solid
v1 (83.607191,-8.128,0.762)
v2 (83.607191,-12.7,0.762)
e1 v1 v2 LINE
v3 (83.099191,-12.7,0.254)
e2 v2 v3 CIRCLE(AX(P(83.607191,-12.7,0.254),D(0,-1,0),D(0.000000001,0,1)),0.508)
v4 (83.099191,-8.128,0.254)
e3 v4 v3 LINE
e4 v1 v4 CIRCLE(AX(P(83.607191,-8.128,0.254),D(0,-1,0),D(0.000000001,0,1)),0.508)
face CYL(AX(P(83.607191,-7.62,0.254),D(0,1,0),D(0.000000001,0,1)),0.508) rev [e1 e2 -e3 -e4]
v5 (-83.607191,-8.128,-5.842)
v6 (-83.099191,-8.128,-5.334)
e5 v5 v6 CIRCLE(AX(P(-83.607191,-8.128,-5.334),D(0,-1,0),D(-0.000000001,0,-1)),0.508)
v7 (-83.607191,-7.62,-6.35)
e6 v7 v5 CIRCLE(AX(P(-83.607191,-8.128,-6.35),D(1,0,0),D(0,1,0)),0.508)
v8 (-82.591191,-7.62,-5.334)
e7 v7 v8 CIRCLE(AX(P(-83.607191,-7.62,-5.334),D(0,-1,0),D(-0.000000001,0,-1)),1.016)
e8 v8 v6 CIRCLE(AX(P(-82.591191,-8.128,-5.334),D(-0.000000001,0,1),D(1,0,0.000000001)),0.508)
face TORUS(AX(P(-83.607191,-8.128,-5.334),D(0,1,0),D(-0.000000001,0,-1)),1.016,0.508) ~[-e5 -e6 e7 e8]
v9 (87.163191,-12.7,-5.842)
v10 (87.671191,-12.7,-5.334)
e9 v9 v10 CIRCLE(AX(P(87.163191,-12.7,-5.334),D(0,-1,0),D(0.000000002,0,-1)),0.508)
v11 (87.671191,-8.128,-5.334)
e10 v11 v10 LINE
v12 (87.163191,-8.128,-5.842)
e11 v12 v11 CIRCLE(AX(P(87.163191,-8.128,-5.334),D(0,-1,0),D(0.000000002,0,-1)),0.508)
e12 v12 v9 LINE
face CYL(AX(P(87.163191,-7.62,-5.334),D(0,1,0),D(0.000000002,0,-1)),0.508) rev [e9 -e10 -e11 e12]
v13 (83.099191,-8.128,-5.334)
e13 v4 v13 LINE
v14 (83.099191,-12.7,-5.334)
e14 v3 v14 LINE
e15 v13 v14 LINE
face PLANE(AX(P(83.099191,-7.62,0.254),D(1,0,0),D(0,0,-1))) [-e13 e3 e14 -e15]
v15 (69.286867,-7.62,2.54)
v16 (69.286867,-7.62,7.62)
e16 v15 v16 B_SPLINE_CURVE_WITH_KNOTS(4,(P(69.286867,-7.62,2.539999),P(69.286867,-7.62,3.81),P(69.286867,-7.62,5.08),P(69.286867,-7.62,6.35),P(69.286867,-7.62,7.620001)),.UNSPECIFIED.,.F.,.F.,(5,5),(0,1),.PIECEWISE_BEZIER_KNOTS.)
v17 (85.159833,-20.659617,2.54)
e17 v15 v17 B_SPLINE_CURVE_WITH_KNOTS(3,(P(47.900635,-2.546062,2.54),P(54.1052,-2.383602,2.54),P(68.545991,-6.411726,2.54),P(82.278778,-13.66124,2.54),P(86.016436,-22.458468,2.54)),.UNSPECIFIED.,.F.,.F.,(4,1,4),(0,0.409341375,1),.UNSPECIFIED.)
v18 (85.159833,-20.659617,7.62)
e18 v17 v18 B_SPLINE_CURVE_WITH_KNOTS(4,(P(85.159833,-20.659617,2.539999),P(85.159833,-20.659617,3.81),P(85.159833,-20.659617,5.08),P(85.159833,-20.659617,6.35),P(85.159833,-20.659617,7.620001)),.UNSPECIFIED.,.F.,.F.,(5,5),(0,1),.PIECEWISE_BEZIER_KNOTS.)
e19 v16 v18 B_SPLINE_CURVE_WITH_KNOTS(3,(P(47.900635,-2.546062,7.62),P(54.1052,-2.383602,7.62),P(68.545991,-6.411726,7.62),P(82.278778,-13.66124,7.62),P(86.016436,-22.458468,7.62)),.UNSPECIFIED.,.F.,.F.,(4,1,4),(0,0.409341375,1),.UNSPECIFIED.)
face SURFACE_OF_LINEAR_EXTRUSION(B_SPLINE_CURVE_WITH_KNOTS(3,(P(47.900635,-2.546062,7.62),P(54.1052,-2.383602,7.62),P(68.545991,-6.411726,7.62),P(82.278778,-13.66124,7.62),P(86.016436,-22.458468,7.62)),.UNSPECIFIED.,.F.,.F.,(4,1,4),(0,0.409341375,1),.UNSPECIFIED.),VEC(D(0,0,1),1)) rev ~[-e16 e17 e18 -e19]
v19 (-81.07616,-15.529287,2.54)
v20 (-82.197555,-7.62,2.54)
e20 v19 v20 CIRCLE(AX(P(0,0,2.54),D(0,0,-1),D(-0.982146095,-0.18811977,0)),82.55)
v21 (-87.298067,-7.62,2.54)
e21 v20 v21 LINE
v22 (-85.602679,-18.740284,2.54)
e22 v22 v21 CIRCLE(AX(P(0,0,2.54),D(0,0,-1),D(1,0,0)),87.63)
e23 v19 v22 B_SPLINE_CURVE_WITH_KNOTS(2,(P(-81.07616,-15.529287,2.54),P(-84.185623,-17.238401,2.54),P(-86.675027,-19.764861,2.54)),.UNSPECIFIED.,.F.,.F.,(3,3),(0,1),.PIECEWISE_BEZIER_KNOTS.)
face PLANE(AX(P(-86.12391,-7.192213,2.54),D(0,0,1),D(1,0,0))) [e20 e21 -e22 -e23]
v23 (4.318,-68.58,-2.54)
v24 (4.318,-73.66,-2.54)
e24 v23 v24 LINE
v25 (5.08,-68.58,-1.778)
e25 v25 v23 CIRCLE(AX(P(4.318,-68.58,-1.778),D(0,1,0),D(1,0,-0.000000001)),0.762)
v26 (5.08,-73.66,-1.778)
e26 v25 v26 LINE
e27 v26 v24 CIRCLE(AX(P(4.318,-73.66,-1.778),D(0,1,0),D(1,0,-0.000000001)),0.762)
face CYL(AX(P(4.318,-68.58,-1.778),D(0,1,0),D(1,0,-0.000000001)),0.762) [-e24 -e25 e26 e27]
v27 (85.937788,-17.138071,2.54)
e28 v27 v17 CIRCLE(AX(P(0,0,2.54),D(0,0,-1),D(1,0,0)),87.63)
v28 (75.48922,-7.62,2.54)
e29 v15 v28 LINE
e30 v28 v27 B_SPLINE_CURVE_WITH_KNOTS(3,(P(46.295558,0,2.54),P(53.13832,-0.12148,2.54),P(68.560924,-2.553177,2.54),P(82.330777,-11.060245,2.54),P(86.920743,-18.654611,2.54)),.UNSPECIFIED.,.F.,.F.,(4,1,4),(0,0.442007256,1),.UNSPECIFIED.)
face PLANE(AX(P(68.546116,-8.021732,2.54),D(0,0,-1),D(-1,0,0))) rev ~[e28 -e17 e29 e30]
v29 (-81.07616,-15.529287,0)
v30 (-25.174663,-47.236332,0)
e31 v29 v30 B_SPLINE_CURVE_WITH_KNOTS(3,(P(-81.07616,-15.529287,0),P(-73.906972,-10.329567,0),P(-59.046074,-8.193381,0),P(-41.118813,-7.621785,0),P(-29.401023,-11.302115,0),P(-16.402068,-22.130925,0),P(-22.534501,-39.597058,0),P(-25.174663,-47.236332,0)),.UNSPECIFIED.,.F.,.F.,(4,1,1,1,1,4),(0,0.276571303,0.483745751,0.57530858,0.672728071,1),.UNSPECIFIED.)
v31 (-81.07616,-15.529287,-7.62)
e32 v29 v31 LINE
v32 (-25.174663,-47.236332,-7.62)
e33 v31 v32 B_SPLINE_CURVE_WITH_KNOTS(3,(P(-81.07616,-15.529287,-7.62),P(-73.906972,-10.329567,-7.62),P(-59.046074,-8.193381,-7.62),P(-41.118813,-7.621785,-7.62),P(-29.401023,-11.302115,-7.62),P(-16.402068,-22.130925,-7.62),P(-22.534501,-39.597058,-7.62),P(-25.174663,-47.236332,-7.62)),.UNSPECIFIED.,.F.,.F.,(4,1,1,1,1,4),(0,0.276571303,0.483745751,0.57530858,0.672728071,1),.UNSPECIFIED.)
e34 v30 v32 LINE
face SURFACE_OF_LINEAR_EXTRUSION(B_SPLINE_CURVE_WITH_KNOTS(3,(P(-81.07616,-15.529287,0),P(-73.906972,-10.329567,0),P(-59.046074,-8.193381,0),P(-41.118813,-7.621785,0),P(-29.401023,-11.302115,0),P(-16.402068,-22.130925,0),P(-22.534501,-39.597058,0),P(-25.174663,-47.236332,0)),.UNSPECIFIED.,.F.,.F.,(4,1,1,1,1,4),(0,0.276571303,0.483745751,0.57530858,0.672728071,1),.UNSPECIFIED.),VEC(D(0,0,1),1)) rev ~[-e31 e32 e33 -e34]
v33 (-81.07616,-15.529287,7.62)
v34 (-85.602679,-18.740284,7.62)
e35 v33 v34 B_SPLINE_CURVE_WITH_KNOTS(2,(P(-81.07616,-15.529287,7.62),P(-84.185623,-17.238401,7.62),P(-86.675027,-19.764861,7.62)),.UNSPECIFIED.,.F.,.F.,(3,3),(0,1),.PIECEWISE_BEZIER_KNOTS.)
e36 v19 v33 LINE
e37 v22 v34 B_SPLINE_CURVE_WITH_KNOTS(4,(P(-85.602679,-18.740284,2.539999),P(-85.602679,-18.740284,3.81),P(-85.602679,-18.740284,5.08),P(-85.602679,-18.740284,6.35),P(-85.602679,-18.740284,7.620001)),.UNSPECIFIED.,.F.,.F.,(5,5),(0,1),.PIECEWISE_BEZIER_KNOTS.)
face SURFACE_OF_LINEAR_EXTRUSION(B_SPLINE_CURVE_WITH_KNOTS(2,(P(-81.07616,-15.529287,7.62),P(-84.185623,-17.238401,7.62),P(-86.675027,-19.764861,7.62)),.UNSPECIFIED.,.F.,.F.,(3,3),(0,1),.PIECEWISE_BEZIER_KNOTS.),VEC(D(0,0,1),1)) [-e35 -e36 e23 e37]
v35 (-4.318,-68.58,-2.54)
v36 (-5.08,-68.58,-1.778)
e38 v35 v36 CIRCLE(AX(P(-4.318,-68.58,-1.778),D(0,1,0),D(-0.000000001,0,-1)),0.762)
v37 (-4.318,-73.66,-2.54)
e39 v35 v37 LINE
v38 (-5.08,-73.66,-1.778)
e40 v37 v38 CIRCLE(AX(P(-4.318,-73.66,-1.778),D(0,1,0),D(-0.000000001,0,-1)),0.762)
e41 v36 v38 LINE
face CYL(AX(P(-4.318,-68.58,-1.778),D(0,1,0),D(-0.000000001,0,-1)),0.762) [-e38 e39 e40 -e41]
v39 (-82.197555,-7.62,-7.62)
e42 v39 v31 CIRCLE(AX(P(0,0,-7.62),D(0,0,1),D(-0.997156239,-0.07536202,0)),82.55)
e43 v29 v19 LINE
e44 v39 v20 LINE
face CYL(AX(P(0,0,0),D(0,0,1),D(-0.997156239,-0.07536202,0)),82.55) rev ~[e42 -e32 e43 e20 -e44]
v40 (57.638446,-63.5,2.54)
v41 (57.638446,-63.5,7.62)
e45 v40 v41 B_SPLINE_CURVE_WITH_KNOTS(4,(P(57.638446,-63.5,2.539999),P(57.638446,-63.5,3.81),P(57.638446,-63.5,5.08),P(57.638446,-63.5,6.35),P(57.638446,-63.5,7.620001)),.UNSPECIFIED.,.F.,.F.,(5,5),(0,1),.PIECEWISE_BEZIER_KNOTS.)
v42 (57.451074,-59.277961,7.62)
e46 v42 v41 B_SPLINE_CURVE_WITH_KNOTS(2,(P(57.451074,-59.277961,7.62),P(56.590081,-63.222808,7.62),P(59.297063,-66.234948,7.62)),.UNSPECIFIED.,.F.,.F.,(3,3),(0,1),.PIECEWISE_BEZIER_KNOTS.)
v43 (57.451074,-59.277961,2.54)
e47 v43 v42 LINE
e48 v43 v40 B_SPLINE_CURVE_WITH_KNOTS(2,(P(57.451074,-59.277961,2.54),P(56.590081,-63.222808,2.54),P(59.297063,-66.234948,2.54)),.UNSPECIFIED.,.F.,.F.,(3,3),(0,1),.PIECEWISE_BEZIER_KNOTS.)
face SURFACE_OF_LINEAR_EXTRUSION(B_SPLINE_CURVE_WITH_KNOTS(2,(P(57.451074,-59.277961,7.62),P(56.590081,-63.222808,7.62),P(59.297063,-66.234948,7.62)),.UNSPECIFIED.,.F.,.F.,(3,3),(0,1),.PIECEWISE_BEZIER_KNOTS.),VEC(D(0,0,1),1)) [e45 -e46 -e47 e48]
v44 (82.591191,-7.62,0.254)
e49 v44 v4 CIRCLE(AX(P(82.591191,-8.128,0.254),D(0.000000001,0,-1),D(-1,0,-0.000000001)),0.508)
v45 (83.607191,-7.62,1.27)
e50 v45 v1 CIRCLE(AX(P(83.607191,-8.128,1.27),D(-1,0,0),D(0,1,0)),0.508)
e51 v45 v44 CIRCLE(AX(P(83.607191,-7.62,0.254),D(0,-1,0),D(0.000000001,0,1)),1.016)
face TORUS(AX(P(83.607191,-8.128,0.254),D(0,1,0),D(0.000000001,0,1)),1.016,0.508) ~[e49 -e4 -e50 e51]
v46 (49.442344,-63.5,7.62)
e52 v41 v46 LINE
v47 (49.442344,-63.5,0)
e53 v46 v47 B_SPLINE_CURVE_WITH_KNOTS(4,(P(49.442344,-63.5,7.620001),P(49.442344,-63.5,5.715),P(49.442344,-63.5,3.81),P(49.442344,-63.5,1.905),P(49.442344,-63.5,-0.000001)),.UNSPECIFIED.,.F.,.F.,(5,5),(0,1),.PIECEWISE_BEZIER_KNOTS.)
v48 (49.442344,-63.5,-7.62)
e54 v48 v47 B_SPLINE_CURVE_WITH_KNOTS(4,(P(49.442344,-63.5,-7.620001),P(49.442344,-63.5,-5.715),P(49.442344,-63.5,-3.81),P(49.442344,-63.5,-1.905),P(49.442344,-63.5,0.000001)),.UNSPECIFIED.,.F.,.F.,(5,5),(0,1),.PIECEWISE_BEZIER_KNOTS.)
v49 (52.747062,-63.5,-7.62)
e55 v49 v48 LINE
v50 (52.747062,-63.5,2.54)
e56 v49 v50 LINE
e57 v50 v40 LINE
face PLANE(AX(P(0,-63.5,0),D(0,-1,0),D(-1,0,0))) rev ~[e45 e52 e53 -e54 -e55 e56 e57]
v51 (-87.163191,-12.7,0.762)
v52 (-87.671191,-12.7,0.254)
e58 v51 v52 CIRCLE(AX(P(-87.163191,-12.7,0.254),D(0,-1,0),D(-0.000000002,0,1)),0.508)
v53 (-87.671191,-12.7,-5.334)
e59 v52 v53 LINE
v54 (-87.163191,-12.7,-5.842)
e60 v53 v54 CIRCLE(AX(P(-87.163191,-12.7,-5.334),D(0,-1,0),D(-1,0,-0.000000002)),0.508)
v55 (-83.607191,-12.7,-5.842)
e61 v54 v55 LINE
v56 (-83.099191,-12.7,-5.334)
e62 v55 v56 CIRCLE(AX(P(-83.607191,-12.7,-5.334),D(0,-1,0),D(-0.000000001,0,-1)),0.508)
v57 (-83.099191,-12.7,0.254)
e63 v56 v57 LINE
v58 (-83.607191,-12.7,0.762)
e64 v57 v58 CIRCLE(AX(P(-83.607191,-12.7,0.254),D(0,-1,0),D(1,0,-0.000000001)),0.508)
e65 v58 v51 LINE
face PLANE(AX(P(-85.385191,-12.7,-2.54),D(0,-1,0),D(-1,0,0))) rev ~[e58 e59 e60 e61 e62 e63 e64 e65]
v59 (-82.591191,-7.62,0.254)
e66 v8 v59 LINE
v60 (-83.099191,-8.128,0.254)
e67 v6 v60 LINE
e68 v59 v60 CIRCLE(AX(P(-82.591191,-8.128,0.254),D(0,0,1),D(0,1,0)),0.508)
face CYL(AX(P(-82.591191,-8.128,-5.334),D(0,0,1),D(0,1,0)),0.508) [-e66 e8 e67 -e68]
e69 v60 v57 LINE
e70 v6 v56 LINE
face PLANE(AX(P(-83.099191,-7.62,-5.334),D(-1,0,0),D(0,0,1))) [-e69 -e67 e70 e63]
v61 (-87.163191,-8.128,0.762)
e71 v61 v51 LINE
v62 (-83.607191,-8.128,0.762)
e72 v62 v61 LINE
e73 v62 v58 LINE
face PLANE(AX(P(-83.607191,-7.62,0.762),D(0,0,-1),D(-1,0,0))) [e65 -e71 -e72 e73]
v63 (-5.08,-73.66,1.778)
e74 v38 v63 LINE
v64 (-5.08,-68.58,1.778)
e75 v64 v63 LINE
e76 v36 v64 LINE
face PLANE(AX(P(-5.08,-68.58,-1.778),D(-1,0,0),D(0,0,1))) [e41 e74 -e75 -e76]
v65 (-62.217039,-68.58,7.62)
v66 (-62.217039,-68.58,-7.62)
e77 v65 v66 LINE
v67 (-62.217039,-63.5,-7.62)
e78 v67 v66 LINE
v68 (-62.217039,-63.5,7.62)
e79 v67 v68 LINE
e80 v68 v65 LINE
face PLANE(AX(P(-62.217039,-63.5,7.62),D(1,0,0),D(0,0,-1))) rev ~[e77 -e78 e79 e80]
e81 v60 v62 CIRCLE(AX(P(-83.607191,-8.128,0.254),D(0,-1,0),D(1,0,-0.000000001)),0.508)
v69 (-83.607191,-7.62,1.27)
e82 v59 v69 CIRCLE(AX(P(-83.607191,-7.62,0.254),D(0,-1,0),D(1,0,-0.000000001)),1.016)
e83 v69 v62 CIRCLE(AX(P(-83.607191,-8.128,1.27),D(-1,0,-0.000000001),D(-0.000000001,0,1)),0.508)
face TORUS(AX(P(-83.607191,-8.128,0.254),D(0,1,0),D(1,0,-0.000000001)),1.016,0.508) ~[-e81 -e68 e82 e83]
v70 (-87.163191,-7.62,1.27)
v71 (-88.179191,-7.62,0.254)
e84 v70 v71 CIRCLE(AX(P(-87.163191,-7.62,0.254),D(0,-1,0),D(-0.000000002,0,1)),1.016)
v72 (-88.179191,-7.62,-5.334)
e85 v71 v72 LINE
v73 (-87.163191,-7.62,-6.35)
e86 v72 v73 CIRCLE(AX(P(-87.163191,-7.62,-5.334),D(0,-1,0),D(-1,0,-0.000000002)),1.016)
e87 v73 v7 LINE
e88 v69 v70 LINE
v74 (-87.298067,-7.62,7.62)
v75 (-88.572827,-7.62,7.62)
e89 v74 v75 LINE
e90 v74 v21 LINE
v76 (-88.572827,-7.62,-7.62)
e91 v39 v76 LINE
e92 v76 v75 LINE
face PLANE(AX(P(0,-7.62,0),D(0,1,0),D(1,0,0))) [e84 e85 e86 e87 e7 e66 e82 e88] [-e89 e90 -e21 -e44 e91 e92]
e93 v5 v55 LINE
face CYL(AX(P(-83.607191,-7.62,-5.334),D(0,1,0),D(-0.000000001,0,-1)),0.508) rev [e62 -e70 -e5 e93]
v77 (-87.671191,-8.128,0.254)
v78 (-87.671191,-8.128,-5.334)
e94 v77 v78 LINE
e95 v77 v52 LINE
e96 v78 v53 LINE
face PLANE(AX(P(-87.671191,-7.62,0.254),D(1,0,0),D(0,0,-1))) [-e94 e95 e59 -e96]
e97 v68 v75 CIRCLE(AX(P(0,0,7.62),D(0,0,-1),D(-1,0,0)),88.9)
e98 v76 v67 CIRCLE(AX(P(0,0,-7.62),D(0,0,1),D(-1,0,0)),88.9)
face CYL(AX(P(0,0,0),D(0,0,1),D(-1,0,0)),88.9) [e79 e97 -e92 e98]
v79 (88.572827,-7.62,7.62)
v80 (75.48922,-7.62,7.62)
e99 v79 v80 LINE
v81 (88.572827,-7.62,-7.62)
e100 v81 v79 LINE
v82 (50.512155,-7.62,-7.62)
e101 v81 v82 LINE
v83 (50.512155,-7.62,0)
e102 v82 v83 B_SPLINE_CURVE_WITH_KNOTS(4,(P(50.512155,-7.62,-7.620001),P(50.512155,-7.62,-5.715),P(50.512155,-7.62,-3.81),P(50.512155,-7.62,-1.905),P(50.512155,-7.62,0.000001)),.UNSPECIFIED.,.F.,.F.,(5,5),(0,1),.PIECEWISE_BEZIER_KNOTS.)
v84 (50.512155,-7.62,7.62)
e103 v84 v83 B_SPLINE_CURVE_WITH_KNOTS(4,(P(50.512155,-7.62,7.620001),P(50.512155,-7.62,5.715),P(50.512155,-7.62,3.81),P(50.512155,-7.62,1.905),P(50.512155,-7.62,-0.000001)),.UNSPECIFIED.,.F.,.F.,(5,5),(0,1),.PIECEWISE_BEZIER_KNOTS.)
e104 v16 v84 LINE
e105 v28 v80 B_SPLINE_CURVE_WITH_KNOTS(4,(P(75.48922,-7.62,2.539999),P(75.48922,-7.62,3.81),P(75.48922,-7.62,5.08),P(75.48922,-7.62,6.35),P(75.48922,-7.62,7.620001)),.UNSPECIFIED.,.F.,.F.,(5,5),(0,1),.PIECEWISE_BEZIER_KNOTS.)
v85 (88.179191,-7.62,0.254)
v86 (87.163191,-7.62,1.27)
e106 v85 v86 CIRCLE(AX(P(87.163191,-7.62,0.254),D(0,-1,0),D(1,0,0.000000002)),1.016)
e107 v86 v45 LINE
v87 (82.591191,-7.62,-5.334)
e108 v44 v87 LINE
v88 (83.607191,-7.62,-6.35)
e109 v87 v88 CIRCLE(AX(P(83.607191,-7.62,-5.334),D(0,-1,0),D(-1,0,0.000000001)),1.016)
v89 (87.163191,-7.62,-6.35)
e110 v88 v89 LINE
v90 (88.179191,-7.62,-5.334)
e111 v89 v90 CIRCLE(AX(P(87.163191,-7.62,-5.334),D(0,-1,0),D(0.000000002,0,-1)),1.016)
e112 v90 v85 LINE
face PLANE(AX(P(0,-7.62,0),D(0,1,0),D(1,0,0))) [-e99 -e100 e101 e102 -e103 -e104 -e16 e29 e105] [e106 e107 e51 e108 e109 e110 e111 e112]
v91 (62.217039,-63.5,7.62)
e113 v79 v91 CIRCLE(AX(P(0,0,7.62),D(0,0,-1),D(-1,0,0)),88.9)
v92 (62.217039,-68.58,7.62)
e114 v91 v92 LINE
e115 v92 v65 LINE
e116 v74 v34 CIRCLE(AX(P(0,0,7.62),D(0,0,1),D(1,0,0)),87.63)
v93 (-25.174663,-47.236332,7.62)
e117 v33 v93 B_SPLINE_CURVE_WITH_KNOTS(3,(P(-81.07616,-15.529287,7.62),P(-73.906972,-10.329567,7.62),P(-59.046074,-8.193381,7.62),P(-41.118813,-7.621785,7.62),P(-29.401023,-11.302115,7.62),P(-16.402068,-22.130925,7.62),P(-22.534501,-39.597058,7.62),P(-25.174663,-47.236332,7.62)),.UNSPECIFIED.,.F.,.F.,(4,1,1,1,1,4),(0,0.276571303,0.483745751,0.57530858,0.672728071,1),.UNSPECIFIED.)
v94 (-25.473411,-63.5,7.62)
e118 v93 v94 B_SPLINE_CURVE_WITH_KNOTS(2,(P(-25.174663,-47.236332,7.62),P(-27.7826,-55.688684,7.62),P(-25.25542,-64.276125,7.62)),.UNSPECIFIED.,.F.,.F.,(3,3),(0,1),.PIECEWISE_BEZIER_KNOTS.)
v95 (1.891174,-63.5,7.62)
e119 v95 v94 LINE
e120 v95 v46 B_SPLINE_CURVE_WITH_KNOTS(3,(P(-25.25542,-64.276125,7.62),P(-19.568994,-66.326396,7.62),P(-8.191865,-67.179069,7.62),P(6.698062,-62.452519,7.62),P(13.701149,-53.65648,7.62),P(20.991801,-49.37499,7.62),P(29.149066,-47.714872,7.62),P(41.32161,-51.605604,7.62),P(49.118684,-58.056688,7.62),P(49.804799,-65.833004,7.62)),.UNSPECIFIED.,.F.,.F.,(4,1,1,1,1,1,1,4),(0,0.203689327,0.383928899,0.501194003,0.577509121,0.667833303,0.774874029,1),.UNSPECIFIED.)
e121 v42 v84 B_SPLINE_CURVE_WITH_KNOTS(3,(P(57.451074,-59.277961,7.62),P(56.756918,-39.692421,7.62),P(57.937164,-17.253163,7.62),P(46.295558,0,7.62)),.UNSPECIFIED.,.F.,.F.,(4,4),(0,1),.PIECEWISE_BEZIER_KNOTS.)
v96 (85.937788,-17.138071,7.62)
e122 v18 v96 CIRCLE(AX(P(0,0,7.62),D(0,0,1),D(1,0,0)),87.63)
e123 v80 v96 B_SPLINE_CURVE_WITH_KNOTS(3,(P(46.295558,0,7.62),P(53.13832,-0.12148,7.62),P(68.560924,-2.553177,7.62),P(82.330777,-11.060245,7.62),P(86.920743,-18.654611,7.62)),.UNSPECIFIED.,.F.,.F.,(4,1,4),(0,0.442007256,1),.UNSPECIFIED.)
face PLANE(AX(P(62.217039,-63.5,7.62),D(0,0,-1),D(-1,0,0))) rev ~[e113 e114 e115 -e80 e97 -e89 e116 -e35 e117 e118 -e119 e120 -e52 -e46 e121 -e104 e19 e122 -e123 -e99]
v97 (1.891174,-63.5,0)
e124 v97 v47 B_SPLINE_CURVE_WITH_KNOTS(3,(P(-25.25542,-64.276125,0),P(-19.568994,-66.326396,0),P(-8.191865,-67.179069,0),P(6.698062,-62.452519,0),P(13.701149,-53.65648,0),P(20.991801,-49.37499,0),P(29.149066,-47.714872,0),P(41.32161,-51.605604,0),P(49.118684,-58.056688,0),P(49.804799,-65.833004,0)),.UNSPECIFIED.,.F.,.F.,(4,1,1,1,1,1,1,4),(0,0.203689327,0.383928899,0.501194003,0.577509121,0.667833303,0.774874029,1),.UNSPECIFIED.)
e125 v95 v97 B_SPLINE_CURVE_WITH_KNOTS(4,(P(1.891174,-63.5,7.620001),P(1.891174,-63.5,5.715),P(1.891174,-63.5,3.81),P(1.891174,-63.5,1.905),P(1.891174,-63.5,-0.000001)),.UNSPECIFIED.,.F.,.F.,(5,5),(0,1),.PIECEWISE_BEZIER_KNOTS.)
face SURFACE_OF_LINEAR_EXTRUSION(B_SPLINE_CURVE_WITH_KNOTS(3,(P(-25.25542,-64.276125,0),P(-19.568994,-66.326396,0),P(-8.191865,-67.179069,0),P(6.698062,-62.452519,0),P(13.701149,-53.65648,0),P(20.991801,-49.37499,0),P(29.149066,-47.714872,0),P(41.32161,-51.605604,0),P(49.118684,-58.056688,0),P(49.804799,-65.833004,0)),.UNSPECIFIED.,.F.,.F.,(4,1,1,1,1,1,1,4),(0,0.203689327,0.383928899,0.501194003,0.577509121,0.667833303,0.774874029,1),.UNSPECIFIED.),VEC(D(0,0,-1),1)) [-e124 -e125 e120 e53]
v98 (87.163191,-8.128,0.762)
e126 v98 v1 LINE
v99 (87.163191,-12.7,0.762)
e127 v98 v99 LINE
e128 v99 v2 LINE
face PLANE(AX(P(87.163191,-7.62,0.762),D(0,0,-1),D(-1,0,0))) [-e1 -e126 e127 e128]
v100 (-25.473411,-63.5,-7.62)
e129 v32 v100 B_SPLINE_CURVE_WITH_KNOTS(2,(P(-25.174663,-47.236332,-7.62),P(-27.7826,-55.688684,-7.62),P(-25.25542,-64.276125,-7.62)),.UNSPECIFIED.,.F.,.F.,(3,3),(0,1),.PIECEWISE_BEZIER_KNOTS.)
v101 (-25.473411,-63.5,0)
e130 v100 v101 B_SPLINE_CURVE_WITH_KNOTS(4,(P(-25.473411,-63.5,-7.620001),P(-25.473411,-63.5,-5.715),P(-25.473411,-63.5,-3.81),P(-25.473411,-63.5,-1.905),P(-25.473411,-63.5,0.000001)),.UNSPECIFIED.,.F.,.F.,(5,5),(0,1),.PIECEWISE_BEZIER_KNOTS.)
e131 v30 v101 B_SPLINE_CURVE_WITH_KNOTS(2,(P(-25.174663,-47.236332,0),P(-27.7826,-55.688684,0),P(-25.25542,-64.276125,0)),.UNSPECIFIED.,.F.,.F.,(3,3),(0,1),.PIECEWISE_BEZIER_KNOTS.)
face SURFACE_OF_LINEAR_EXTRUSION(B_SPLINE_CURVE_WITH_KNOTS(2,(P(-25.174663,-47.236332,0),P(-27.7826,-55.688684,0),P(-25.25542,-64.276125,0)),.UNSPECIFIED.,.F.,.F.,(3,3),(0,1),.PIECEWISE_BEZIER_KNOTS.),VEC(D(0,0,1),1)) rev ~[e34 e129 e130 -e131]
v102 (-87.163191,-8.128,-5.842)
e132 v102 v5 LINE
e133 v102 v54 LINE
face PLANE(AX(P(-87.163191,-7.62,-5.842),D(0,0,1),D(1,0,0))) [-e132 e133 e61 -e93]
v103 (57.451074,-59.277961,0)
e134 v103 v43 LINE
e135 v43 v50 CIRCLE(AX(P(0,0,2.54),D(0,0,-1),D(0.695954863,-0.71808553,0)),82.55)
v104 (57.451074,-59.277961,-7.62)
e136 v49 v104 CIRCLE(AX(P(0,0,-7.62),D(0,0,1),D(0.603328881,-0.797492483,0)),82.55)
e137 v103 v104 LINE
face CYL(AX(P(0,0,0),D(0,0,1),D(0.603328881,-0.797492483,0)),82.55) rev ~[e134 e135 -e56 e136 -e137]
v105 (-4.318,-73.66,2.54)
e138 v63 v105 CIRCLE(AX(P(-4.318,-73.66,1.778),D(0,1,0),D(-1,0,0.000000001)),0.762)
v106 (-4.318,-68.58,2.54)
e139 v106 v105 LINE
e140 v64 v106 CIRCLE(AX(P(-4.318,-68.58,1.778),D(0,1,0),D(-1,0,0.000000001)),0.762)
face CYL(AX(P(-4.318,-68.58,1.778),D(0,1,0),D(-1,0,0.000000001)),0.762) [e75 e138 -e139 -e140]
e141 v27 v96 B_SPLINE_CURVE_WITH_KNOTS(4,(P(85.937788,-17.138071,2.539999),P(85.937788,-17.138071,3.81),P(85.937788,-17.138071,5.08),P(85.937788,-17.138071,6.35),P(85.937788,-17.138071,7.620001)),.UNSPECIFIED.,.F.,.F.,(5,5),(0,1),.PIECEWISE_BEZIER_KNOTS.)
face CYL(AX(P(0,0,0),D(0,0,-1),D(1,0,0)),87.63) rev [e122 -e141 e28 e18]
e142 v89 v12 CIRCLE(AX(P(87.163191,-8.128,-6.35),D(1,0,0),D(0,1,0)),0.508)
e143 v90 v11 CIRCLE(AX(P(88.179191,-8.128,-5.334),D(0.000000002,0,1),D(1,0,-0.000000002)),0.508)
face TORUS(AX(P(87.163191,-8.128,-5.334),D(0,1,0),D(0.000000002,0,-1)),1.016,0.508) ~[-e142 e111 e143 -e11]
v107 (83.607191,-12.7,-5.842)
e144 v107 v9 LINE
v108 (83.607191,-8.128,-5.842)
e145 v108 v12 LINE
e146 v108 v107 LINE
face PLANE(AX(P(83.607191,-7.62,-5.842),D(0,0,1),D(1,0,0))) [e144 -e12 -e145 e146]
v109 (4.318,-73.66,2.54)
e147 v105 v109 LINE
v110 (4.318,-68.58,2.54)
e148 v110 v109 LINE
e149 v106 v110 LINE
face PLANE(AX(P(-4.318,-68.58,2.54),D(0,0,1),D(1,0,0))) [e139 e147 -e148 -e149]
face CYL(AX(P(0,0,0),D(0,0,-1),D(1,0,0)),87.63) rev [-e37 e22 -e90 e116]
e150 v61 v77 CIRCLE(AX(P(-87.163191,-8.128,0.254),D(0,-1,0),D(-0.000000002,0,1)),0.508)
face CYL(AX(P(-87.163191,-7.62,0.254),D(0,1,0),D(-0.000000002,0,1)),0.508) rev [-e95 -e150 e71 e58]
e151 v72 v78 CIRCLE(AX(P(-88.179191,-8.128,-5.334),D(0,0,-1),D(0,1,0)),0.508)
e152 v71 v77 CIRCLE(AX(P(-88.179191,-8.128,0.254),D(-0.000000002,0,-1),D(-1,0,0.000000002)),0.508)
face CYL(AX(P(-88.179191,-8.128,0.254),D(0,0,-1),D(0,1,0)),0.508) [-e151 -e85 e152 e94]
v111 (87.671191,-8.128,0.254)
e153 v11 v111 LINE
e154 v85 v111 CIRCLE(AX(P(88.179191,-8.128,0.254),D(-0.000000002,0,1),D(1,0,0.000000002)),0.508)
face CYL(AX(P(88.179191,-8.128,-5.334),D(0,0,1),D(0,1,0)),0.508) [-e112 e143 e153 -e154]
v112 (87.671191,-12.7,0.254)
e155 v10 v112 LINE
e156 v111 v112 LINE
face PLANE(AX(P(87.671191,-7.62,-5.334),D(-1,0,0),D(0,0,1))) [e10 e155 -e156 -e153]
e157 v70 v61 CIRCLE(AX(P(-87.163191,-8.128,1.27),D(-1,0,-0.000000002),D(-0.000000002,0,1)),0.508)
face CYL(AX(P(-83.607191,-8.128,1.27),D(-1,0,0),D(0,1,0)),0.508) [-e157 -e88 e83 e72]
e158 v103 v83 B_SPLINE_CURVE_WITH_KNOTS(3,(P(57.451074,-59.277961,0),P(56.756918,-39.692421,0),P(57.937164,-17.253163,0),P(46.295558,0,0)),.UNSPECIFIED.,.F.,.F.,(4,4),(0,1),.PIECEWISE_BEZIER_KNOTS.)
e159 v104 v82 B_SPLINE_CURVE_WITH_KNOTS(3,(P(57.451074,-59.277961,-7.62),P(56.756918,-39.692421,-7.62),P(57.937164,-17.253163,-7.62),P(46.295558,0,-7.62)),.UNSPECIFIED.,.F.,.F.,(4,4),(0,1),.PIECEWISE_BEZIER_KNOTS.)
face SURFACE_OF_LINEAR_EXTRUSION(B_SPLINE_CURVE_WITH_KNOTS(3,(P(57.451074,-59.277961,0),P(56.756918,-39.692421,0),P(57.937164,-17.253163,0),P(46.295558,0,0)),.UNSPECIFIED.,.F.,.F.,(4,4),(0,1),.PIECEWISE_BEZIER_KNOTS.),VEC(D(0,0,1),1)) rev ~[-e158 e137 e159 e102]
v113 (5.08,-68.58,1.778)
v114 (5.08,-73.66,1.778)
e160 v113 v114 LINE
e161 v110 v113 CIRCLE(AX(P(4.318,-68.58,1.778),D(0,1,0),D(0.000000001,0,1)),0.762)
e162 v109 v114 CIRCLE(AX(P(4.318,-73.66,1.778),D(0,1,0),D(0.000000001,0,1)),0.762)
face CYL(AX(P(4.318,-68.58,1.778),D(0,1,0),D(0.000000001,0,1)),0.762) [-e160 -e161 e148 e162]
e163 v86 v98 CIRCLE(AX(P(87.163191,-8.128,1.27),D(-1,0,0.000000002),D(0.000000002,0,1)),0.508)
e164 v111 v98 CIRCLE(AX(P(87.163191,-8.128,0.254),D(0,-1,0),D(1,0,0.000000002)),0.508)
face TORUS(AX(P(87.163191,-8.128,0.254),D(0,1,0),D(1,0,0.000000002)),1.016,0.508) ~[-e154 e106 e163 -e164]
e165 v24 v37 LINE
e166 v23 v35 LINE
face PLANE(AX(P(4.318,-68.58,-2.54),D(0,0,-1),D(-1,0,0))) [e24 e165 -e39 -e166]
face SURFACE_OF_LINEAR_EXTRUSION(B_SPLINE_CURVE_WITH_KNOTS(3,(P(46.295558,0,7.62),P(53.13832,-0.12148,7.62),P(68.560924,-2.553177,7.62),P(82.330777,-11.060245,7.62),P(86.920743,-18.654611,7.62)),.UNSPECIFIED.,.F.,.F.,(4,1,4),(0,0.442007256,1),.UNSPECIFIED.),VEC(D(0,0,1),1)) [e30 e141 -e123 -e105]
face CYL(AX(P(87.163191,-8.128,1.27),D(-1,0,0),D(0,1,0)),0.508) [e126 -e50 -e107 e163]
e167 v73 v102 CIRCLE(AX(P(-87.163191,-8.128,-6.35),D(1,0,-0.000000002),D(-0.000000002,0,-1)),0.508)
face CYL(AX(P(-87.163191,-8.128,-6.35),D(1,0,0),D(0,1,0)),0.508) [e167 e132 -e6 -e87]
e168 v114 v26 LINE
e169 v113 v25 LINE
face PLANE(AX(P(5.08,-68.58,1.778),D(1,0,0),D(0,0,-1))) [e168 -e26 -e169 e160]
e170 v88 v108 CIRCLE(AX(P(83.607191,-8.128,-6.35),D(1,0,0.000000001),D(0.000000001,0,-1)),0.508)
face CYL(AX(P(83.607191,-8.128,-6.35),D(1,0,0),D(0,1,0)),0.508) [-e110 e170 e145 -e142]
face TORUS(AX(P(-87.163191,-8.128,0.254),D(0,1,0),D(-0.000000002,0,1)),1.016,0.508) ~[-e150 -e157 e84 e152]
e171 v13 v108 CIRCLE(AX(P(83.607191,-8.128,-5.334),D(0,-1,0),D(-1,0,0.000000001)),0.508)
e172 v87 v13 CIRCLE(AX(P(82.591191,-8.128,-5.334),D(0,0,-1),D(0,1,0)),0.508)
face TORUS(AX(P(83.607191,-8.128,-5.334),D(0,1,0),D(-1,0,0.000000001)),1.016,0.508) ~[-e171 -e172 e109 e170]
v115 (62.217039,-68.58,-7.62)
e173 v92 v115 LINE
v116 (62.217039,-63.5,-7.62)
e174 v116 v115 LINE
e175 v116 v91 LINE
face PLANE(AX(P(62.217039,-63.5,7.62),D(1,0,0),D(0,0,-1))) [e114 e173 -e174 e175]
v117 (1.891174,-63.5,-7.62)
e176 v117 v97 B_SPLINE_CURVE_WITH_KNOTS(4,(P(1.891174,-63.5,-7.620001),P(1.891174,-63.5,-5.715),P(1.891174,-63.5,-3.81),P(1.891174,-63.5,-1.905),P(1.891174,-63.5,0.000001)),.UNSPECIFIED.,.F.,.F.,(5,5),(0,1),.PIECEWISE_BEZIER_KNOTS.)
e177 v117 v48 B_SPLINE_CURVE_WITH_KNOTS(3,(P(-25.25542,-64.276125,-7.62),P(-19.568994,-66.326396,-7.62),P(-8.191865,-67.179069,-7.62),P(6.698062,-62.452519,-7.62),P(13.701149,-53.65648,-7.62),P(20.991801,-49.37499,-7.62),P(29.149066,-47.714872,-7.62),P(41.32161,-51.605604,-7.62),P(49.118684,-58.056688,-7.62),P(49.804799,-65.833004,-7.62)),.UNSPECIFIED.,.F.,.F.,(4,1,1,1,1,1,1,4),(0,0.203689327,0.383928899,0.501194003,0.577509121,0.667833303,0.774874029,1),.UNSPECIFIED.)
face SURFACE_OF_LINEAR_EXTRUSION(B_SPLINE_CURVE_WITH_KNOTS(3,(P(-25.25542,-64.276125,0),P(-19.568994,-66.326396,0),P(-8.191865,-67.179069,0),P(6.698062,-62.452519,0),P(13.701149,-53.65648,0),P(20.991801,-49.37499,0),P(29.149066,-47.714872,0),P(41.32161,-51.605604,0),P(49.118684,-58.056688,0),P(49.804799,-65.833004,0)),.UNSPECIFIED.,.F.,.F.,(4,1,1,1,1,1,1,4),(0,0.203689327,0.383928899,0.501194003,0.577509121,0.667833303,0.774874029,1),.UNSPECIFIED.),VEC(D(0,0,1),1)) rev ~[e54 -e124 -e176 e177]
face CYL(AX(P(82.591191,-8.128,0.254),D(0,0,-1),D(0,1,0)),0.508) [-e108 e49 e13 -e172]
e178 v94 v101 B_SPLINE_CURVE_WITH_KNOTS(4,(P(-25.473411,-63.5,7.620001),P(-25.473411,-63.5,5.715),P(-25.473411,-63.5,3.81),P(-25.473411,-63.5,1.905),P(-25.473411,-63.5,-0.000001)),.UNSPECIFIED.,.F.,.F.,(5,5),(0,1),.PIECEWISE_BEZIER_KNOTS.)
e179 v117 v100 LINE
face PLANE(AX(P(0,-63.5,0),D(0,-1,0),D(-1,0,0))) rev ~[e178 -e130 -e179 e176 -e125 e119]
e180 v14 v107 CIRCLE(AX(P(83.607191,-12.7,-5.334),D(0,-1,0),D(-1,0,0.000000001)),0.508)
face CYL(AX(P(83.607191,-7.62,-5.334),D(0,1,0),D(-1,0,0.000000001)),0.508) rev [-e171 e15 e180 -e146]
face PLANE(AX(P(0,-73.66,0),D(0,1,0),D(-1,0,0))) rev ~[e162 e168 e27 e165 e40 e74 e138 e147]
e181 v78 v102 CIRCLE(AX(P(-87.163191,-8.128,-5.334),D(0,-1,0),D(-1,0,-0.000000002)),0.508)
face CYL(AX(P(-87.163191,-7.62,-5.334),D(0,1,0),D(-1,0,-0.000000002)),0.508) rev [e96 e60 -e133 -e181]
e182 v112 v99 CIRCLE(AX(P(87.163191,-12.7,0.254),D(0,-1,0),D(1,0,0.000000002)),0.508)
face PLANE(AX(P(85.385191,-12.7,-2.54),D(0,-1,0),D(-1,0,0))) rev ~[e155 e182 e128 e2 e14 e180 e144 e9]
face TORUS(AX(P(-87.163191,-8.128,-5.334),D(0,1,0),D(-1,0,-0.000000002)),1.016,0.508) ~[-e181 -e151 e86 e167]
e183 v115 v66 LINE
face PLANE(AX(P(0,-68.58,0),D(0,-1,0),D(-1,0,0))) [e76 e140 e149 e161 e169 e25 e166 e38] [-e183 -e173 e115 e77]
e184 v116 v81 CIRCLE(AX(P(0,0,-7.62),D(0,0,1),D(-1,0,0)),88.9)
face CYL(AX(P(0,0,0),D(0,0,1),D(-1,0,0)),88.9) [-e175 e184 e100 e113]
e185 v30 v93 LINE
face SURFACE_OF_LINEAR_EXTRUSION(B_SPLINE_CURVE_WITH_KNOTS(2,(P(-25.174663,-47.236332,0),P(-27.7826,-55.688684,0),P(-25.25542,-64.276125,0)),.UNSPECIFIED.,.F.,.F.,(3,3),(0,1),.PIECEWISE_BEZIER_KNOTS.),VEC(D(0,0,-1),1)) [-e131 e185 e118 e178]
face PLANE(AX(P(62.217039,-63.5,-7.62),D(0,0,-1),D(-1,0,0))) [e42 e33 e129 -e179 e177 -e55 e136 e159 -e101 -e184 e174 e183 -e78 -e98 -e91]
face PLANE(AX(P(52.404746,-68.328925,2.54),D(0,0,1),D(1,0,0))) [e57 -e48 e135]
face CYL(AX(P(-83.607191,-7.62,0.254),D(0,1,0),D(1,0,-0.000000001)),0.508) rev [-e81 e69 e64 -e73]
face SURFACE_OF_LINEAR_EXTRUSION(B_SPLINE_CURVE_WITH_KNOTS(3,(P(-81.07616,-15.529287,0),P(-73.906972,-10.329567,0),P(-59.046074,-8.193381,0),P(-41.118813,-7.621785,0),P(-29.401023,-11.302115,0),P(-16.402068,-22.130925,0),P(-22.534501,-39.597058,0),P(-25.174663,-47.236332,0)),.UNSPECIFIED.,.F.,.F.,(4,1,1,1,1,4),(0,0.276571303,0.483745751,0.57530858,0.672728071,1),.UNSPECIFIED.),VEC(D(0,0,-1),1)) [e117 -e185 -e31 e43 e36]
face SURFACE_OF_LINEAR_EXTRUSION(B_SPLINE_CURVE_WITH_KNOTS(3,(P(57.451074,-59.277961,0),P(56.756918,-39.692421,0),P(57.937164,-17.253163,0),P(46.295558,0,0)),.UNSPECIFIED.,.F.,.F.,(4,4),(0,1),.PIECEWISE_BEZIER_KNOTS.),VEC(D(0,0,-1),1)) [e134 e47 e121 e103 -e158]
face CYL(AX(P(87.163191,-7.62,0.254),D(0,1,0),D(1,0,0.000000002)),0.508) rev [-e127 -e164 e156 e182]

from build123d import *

# Parameters (mm, degrees)
SKETCH2_R           = 88.9
BOSS_EXTRUDE1_DEPTH = 7.62
CUT_EXTRUDE1_DEPTH  = 5.08
CUT_EXTRUDE2_DEPTH  = 5.08
SKETCH6_R           = 88.9
SKETCH6_R_2         = 87.63
BOSS_EXTRUDE2_DEPTH = 7.62
SKETCH5_W           = 447.85569709
SKETCH5_H           = 96.634651294
CUT_EXTRUDE3_DEPTH  = 132.443466321
CUT_EXTRUDE4_DEPTH  = 5.08
FILLET1_R           = 0.508
FILLET2_R           = 0.508
SKETCH8_W           = 235.469737428
SKETCH8_H           = 63.022782664
CUT_EXTRUDE6_DEPTH  = 30.48
SKETCH11_W          = 124.434078934
SKETCH11_H          = 15.24
BOSS_EXTRUDE3_DEPTH = 5.08
BOSS_EXTRUDE4_DEPTH = 5.08


with BuildPart() as part:
    # Sketch2 → Boss-Extrude1 (new, symmetric)
    with BuildSketch(Plane.XY):
        with Locations(Location((0, 0, 0), (0, 0, 180))):
            Circle(SKETCH2_R)
        with BuildLine():
            ThreePointArc((-82.315247566, -6.2211348), (-81.828164186, -10.892843798), (-81.076160162, -15.529286954))
            add(Edge.make_bspline(
                [(-81.076160162, -15.529286954), (-73.906972416, -10.329566502), (-59.046073895, -8.193381199), (-41.118812884, -7.621785306), (-29.401022662, -11.302114845), (-16.402067506, -22.130924736), (-22.534501322, -39.59705785), (-25.174662603, -47.236332112)],
                knots=[0, 0, 0, 0, 0.276571303, 0.483745751, 0.57530858, 0.672728071, 1, 1, 1, 1], degree=3))
            add(Edge.make_bspline(
                [(-25.174662603, -47.236332112), (-27.78260004, -55.688683624), (-25.255419914, -64.276124819)],
                knots=[0, 0, 0, 1, 1, 1], degree=2))
            add(Edge.make_bspline(
                [(-25.255419914, -64.276124819), (-19.568994185, -66.326395956), (-8.191864865, -67.179069199), (6.698062012, -62.452519029), (13.701149455, -53.656480208), (20.991800731, -49.374990358), (29.14906596, -47.7148715), (41.321609726, -51.605604), (49.118683791, -58.056687878), (49.804799161, -65.833004493)],
                knots=[0, 0, 0, 0, 0.203689327, 0.383928899, 0.501194003, 0.577509121, 0.667833303, 0.774874029, 1, 1, 1, 1], degree=3))
            ThreePointArc((49.804799161, -65.833004493), (53.727997634, -62.672200937), (57.451073953, -59.277960505))
            add(Edge.make_bspline(
                [(57.451073953, -59.277960505), (56.756918153, -39.692420945), (57.937164009, -17.253163459), (46.295557994, 0)],
                knots=[0, 0, 0, 0, 1, 1, 1, 1], degree=3))
            add(Edge.make_bspline(
                [(46.295557994, 0), (29.352418178, 2.160827537), (12.476860977, -1.829953153), (-4.097004325, -4.838743622)],
                knots=[0, 0, 0, 0, 1, 1, 1, 1], degree=3))
            add(Edge.make_bspline(
                [(-4.097004325, -4.838743622), (-9.003253572, -4.538646122), (-9.174496671, 2.827576235), (-6.823743398, 13.979544817), (0.460919685, 29.784330466), (13.972068662, 51.572454476), (27.394543454, 67.53561229), (37.735282985, 73.420371274)],
                knots=[0, 0, 0, 0, 0.104628163, 0.200082966, 0.362713634, 0.636377303, 1, 1, 1, 1], degree=3))
            ThreePointArc((37.735282985, 73.420371274), (31.253924322, 76.40480819), (24.539050502, 78.818383011))
            add(Edge.make_bspline(
                [(24.539050502, 78.818383011), (20.455603408, 74.411727836), (17.564971871, 65.824999318), (9.51286746, 57.448673309), (-6.264292968, 43.842012074), (-22.034432487, 67.881542589), (-34.946297284, 64.774058813)],
                knots=[0, 0, 0, 0, 0.241588619, 0.345090174, 0.475626468, 1, 1, 1, 1], degree=3))
            add(Edge.make_bspline(
                [(-34.946297284, 64.774058813), (-40.534107409, 56.654806295), (-49.826434679, 42.328020188), (-53.897482917, 22.922904088), (-55.122078377, 8.697330529), (-64.97763294, -2.490084084), (-73.627608697, -8.872135806), (-82.315247566, -6.2211348)],
                knots=[0, 0, 0, 0, 0.32342158, 0.539679085, 0.642017351, 0.776511597, 1, 1, 1, 1], degree=3))
        make_face(mode=Mode.SUBTRACT)
    extrude(amount=BOSS_EXTRUDE1_DEPTH, both=True)

    # Sketch3 → Cut-Extrude1 (cut)
    with BuildSketch(Plane.XY.offset(7.62)):
        with BuildLine():
            ThreePointArc((45.031224335, -76.651150251), (52.423489091, -71.798243652), (59.297063103, -66.23494778))
            add(Edge.make_bspline(
                [(57.451073953, -59.277960505), (56.590081261, -63.222807516), (59.297063103, -66.23494778)],
                knots=[0, 0, 0, 1, 1, 1], degree=2))
            ThreePointArc((57.451073953, -59.277960505), (53.727997634, -62.672200937), (49.804799161, -65.833004493))
            add(Edge.make_bspline(
                [(49.804799161, -65.833004493), (50.290836256, -72.182369469), (45.031224335, -76.651150251)],
                knots=[0, 0, 0, 1, 1, 1], degree=2))
        make_face()
        with BuildLine():
            ThreePointArc((-88.68252483, 6.214482268), (-88.635767577, -6.849139077), (-86.675026694, -19.764861438))
            add(Edge.make_bspline(
                [(-81.076160162, -15.529286954), (-84.185623479, -17.238401337), (-86.675026694, -19.764861438)],
                knots=[0, 0, 0, 1, 1, 1], degree=2))
            ThreePointArc((-81.076160162, -15.529286954), (-81.828164186, -10.892843798), (-82.315247566, -6.2211348))
            add(Edge.make_bspline(
                [(-82.315247566, -6.2211348), (-88.132024584, -1.499163565), (-88.68252483, 6.214482268)],
                knots=[0, 0, 0, 1, 1, 1], degree=2))
        make_face()
        with BuildLine():
            ThreePointArc((46.295557994, 75.894211308), (38.302929005, 80.22528049), (29.909783679, 83.717470341))
            add(Edge.make_bspline(
                [(24.539050502, 78.818383011), (26.687958515, 81.902861564), (29.909783679, 83.717470341)],
                knots=[0, 0, 0, 1, 1, 1], degree=2))
            ThreePointArc((24.539050502, 78.818383011), (31.253924322, 76.40480819), (37.735282985, 73.420371274))
            add(Edge.make_bspline(
                [(37.735282985, 73.420371274), (41.692258874, 75.781578849), (46.295557994, 75.894211308)],
                knots=[0, 0, 0, 1, 1, 1], degree=2))
        make_face()
    extrude(amount=-CUT_EXTRUDE1_DEPTH, mode=Mode.SUBTRACT)

    # Sketch4 → Cut-Extrude2 (cut)
    with BuildSketch(Plane.XY.offset(7.62)):
        with BuildLine():
            add(Edge.make_bspline(
                [(47.900635375, -2.546062133), (47.394653083, -1.68578683), (46.860186189, -0.836793698), (46.295557994, 0)],
                knots=[0.951499115, 0.951499115, 0.951499115, 0.951499115, 1, 1, 1, 1], degree=3))
            add(Edge.make_bspline(
                [(46.295557994, 0), (53.13831993, -0.121479856), (68.560923547, -2.55317749), (82.330777435, -11.060245422), (86.920742606, -18.654610819)],
                knots=[0, 0, 0, 0, 0.442007256, 1, 1, 1, 1], degree=3))
            ThreePointArc((86.920742606, -18.654610819), (86.48950366, -20.561511535), (86.016435709, -22.458468066))
            add(Edge.make_bspline(
                [(47.900635375, -2.546062133), (54.105200197, -2.383601891), (68.545991377, -6.411725997), (82.278778054, -13.661239618), (86.016435709, -22.458468066)],
                knots=[0, 0, 0, 0, 0.409341375, 1, 1, 1, 1], degree=3))
        make_face()
        with BuildLine():
            add(Edge.make_bspline(
                [(-25.255419914, -64.276124819), (-24.329796264, -64.609863365), (-23.39490974, -64.901263139), (-22.452232953, -65.15178529)],
                knots=[0, 0, 0, 0, 0.033156093, 0.033156093, 0.033156093, 0.033156093], degree=3))
            add(Edge.make_bspline(
                [(-22.452232953, -65.15178529), (-17.435167734, -76.286545317), (-6.016270367, -83.097855064), (4.238511489, -88.798902135)],
                knots=[0, 0, 0, 0, 1, 1, 1, 1], degree=3))
            ThreePointArc((4.238511489, -88.798902135), (2.435652007, -88.866628153), (0.631789417, -88.897754989))
            add(Edge.make_bspline(
                [(-25.255419914, -64.276124819), (-21.127783836, -75.858222766), (-10.467359196, -84.393639797), (0.631789417, -88.897754989)],
                knots=[0, 0, 0, 0, 1, 1, 1, 1], degree=3))
        make_face()
        with BuildLine():
            add(Edge.make_bspline(
                [(-34.946297284, 64.774058813), (-50.35182607, 67.382365169), (-64.84460315, 60.814368716)],
                knots=[0, 0, 0, 1, 1, 1], degree=2))
            ThreePointArc((-64.84460315, 60.814368716), (-66.672342804, 58.804835729), (-68.43783363, 56.740399435))
            add(Edge.make_bspline(
                [(-35.097283324, 62.444599517), (-52.424851341, 65.607841777), (-68.43783363, 56.740399435)],
                knots=[0, 0, 0, 1, 1, 1], degree=2))
            Line((-35.097283324, 62.444599517), (-34.946297284, 64.774058813))
        make_face()
    extrude(amount=-CUT_EXTRUDE2_DEPTH, mode=Mode.SUBTRACT)

    # Sketch6 → Boss-Extrude2 (add, symmetric)
    with BuildSketch(Plane.XY):
        with Locations(Location((0, 0, 0), (0, 0, 180))):
            Circle(SKETCH6_R)
        Circle(SKETCH6_R_2, mode=Mode.SUBTRACT)
    extrude(amount=BOSS_EXTRUDE2_DEPTH, both=True)

    # Sketch5 → Cut-Extrude3 (cut, through all)
    with BuildSketch(Plane(origin=(0, -7.62, 0), x_dir=(1, 0, 0), z_dir=(0, 1, 0))):
        Rectangle(SKETCH5_W, SKETCH5_H)
    extrude(amount=CUT_EXTRUDE3_DEPTH, mode=Mode.SUBTRACT)

    # Sketch7 → Cut-Extrude4 (cut)
    with BuildSketch(Plane(origin=(0, -7.62, 0), x_dir=(1, 0, 0), z_dir=(0, 1, 0))):
        with BuildLine():
            Line((-87.163190925, 5.842), (-83.607190925, 5.842))
            ThreePointArc((-83.607190925, 5.842), (-83.24798068, 5.693210245), (-83.099190925, 5.334))
            Line((-83.099190925, 5.334), (-83.099190925, -0.254))
            ThreePointArc((-83.099190925, -0.254), (-83.24798068, -0.613210245), (-83.607190925, -0.762))
            Line((-83.607190925, -0.762), (-87.163190925, -0.762))
            ThreePointArc((-87.163190925, -0.762), (-87.522401169, -0.613210245), (-87.671190925, -0.254))
            Line((-87.671190925, -0.254), (-87.671190925, 5.334))
            ThreePointArc((-87.671190925, 5.334), (-87.522401169, 5.693210245), (-87.163190925, 5.842))
        make_face()
        with BuildLine():
            Line((87.163190925, -0.762), (83.607190925, -0.762))
            ThreePointArc((83.607190925, -0.762), (83.24798068, -0.613210245), (83.099190925, -0.254))
            Line((83.099190925, -0.254), (83.099190925, 5.334))
            ThreePointArc((83.099190925, 5.334), (83.24798068, 5.693210245), (83.607190925, 5.842))
            Line((83.607190925, 5.842), (87.163190925, 5.842))
            ThreePointArc((87.163190925, 5.842), (87.522401169, 5.693210245), (87.671190925, 5.334))
            Line((87.671190925, 5.334), (87.671190925, -0.254))
            ThreePointArc((87.671190925, -0.254), (87.522401169, -0.613210245), (87.163190925, -0.762))
        make_face()
    extrude(amount=-CUT_EXTRUDE4_DEPTH, mode=Mode.SUBTRACT)

    # Fillet1
    fillet1_edges = [part.edges().sort_by_distance(p)[0] for p in [
        (-87.522401169, -7.62, 0.613210245),
        (-85.385190925, -7.62, 0.762),
        (-83.24798068, -7.62, 0.613210245),
        (-83.099190925, -7.62, -2.54),
        (-83.24798068, -7.62, -5.693210245),
        (-85.385190925, -7.62, -5.842),
        (-87.522401169, -7.62, -5.693210245),
        (-87.671190925, -7.62, -2.54),
    ]]
    fillet(fillet1_edges, radius=FILLET1_R)

    # Fillet2
    fillet2_edges = [part.edges().sort_by_distance(p)[0] for p in [
        (87.522401169, -7.62, 0.613210245),
        (87.671190925, -7.62, -2.54),
        (87.522401169, -7.62, -5.693210245),
        (85.385190925, -7.62, -5.842),
        (83.24798068, -7.62, -5.693210245),
        (83.099190925, -7.62, -2.54),
        (83.24798068, -7.62, 0.613210245),
        (85.385190925, -7.62, 0.762),
    ]]
    fillet(fillet2_edges, radius=FILLET2_R)

    # Sketch8 → Cut-Extrude6 (cut)
    with BuildSketch(Plane(origin=(0, -63.5, 0), x_dir=(-1, 0, 0), z_dir=(0, -1, 0))):
        with Locations((12.697642911, -4.339889392)):
            Rectangle(SKETCH8_W, SKETCH8_H)
    extrude(amount=CUT_EXTRUDE6_DEPTH, mode=Mode.SUBTRACT)


with BuildPart() as cut_extrude6_piece_1:
    # of the separate pieces the step leaves, piece 1, a body of its own (cut_extrude6_pieces)
    add(part.part.solids().sort_by_distance((-88.572826533, -7.62, -7.62))[0])



with BuildPart() as cut_extrude6_piece_2:
    # of the separate pieces the step leaves, piece 2, a body of its own (cut_extrude6_pieces)
    add(part.part.solids().sort_by_distance((88.179190925, -7.62, 0.254))[0])


with BuildPart() as cut_extrude6_piece_3:
    # of the separate pieces the step leaves, piece 3, a body of its own (cut_extrude6_pieces)
    add(part.part.solids().sort_by_distance((1.891173644, -63.5, -7.62))[0])


with BuildPart() as cut_extrude6_piece_1_1:
    add(cut_extrude6_piece_1.part)

    add(cut_extrude6_piece_2.part)  # Boss-Extrude3 merges Cut-Extrude6 piece 2

    add(cut_extrude6_piece_3.part)  # Boss-Extrude3 merges Cut-Extrude6 piece 3
    # Sketch11 → Boss-Extrude3 (add)
    with BuildSketch(Plane(origin=(0, -63.5, 0), x_dir=(-1, 0, 0), z_dir=(0, -1, 0))):
        Rectangle(SKETCH11_W, SKETCH11_H)
    extrude(amount=BOSS_EXTRUDE3_DEPTH)

    # Sketch12 → Boss-Extrude4 (add)
    with BuildSketch(Plane.XZ.offset(68.58)):
        with BuildLine():
            Line((-4.318, 2.54), (4.318, 2.54))
            ThreePointArc((4.318, 2.54), (4.856815367, 2.316815367), (5.08, 1.778))
            Line((5.08, 1.778), (5.08, -1.778))
            ThreePointArc((5.08, -1.778), (4.856815367, -2.316815367), (4.318, -2.54))
            Line((4.318, -2.54), (-4.318, -2.54))
            ThreePointArc((-4.318, -2.54), (-4.856815367, -2.316815367), (-5.08, -1.778))
            Line((-5.08, -1.778), (-5.08, 1.778))
            ThreePointArc((-5.08, 1.778), (-4.856815367, 2.316815367), (-4.318, 2.54))
        make_face()
    extrude(amount=BOSS_EXTRUDE4_DEPTH)


solid = cut_extrude6_piece_1_1.part
